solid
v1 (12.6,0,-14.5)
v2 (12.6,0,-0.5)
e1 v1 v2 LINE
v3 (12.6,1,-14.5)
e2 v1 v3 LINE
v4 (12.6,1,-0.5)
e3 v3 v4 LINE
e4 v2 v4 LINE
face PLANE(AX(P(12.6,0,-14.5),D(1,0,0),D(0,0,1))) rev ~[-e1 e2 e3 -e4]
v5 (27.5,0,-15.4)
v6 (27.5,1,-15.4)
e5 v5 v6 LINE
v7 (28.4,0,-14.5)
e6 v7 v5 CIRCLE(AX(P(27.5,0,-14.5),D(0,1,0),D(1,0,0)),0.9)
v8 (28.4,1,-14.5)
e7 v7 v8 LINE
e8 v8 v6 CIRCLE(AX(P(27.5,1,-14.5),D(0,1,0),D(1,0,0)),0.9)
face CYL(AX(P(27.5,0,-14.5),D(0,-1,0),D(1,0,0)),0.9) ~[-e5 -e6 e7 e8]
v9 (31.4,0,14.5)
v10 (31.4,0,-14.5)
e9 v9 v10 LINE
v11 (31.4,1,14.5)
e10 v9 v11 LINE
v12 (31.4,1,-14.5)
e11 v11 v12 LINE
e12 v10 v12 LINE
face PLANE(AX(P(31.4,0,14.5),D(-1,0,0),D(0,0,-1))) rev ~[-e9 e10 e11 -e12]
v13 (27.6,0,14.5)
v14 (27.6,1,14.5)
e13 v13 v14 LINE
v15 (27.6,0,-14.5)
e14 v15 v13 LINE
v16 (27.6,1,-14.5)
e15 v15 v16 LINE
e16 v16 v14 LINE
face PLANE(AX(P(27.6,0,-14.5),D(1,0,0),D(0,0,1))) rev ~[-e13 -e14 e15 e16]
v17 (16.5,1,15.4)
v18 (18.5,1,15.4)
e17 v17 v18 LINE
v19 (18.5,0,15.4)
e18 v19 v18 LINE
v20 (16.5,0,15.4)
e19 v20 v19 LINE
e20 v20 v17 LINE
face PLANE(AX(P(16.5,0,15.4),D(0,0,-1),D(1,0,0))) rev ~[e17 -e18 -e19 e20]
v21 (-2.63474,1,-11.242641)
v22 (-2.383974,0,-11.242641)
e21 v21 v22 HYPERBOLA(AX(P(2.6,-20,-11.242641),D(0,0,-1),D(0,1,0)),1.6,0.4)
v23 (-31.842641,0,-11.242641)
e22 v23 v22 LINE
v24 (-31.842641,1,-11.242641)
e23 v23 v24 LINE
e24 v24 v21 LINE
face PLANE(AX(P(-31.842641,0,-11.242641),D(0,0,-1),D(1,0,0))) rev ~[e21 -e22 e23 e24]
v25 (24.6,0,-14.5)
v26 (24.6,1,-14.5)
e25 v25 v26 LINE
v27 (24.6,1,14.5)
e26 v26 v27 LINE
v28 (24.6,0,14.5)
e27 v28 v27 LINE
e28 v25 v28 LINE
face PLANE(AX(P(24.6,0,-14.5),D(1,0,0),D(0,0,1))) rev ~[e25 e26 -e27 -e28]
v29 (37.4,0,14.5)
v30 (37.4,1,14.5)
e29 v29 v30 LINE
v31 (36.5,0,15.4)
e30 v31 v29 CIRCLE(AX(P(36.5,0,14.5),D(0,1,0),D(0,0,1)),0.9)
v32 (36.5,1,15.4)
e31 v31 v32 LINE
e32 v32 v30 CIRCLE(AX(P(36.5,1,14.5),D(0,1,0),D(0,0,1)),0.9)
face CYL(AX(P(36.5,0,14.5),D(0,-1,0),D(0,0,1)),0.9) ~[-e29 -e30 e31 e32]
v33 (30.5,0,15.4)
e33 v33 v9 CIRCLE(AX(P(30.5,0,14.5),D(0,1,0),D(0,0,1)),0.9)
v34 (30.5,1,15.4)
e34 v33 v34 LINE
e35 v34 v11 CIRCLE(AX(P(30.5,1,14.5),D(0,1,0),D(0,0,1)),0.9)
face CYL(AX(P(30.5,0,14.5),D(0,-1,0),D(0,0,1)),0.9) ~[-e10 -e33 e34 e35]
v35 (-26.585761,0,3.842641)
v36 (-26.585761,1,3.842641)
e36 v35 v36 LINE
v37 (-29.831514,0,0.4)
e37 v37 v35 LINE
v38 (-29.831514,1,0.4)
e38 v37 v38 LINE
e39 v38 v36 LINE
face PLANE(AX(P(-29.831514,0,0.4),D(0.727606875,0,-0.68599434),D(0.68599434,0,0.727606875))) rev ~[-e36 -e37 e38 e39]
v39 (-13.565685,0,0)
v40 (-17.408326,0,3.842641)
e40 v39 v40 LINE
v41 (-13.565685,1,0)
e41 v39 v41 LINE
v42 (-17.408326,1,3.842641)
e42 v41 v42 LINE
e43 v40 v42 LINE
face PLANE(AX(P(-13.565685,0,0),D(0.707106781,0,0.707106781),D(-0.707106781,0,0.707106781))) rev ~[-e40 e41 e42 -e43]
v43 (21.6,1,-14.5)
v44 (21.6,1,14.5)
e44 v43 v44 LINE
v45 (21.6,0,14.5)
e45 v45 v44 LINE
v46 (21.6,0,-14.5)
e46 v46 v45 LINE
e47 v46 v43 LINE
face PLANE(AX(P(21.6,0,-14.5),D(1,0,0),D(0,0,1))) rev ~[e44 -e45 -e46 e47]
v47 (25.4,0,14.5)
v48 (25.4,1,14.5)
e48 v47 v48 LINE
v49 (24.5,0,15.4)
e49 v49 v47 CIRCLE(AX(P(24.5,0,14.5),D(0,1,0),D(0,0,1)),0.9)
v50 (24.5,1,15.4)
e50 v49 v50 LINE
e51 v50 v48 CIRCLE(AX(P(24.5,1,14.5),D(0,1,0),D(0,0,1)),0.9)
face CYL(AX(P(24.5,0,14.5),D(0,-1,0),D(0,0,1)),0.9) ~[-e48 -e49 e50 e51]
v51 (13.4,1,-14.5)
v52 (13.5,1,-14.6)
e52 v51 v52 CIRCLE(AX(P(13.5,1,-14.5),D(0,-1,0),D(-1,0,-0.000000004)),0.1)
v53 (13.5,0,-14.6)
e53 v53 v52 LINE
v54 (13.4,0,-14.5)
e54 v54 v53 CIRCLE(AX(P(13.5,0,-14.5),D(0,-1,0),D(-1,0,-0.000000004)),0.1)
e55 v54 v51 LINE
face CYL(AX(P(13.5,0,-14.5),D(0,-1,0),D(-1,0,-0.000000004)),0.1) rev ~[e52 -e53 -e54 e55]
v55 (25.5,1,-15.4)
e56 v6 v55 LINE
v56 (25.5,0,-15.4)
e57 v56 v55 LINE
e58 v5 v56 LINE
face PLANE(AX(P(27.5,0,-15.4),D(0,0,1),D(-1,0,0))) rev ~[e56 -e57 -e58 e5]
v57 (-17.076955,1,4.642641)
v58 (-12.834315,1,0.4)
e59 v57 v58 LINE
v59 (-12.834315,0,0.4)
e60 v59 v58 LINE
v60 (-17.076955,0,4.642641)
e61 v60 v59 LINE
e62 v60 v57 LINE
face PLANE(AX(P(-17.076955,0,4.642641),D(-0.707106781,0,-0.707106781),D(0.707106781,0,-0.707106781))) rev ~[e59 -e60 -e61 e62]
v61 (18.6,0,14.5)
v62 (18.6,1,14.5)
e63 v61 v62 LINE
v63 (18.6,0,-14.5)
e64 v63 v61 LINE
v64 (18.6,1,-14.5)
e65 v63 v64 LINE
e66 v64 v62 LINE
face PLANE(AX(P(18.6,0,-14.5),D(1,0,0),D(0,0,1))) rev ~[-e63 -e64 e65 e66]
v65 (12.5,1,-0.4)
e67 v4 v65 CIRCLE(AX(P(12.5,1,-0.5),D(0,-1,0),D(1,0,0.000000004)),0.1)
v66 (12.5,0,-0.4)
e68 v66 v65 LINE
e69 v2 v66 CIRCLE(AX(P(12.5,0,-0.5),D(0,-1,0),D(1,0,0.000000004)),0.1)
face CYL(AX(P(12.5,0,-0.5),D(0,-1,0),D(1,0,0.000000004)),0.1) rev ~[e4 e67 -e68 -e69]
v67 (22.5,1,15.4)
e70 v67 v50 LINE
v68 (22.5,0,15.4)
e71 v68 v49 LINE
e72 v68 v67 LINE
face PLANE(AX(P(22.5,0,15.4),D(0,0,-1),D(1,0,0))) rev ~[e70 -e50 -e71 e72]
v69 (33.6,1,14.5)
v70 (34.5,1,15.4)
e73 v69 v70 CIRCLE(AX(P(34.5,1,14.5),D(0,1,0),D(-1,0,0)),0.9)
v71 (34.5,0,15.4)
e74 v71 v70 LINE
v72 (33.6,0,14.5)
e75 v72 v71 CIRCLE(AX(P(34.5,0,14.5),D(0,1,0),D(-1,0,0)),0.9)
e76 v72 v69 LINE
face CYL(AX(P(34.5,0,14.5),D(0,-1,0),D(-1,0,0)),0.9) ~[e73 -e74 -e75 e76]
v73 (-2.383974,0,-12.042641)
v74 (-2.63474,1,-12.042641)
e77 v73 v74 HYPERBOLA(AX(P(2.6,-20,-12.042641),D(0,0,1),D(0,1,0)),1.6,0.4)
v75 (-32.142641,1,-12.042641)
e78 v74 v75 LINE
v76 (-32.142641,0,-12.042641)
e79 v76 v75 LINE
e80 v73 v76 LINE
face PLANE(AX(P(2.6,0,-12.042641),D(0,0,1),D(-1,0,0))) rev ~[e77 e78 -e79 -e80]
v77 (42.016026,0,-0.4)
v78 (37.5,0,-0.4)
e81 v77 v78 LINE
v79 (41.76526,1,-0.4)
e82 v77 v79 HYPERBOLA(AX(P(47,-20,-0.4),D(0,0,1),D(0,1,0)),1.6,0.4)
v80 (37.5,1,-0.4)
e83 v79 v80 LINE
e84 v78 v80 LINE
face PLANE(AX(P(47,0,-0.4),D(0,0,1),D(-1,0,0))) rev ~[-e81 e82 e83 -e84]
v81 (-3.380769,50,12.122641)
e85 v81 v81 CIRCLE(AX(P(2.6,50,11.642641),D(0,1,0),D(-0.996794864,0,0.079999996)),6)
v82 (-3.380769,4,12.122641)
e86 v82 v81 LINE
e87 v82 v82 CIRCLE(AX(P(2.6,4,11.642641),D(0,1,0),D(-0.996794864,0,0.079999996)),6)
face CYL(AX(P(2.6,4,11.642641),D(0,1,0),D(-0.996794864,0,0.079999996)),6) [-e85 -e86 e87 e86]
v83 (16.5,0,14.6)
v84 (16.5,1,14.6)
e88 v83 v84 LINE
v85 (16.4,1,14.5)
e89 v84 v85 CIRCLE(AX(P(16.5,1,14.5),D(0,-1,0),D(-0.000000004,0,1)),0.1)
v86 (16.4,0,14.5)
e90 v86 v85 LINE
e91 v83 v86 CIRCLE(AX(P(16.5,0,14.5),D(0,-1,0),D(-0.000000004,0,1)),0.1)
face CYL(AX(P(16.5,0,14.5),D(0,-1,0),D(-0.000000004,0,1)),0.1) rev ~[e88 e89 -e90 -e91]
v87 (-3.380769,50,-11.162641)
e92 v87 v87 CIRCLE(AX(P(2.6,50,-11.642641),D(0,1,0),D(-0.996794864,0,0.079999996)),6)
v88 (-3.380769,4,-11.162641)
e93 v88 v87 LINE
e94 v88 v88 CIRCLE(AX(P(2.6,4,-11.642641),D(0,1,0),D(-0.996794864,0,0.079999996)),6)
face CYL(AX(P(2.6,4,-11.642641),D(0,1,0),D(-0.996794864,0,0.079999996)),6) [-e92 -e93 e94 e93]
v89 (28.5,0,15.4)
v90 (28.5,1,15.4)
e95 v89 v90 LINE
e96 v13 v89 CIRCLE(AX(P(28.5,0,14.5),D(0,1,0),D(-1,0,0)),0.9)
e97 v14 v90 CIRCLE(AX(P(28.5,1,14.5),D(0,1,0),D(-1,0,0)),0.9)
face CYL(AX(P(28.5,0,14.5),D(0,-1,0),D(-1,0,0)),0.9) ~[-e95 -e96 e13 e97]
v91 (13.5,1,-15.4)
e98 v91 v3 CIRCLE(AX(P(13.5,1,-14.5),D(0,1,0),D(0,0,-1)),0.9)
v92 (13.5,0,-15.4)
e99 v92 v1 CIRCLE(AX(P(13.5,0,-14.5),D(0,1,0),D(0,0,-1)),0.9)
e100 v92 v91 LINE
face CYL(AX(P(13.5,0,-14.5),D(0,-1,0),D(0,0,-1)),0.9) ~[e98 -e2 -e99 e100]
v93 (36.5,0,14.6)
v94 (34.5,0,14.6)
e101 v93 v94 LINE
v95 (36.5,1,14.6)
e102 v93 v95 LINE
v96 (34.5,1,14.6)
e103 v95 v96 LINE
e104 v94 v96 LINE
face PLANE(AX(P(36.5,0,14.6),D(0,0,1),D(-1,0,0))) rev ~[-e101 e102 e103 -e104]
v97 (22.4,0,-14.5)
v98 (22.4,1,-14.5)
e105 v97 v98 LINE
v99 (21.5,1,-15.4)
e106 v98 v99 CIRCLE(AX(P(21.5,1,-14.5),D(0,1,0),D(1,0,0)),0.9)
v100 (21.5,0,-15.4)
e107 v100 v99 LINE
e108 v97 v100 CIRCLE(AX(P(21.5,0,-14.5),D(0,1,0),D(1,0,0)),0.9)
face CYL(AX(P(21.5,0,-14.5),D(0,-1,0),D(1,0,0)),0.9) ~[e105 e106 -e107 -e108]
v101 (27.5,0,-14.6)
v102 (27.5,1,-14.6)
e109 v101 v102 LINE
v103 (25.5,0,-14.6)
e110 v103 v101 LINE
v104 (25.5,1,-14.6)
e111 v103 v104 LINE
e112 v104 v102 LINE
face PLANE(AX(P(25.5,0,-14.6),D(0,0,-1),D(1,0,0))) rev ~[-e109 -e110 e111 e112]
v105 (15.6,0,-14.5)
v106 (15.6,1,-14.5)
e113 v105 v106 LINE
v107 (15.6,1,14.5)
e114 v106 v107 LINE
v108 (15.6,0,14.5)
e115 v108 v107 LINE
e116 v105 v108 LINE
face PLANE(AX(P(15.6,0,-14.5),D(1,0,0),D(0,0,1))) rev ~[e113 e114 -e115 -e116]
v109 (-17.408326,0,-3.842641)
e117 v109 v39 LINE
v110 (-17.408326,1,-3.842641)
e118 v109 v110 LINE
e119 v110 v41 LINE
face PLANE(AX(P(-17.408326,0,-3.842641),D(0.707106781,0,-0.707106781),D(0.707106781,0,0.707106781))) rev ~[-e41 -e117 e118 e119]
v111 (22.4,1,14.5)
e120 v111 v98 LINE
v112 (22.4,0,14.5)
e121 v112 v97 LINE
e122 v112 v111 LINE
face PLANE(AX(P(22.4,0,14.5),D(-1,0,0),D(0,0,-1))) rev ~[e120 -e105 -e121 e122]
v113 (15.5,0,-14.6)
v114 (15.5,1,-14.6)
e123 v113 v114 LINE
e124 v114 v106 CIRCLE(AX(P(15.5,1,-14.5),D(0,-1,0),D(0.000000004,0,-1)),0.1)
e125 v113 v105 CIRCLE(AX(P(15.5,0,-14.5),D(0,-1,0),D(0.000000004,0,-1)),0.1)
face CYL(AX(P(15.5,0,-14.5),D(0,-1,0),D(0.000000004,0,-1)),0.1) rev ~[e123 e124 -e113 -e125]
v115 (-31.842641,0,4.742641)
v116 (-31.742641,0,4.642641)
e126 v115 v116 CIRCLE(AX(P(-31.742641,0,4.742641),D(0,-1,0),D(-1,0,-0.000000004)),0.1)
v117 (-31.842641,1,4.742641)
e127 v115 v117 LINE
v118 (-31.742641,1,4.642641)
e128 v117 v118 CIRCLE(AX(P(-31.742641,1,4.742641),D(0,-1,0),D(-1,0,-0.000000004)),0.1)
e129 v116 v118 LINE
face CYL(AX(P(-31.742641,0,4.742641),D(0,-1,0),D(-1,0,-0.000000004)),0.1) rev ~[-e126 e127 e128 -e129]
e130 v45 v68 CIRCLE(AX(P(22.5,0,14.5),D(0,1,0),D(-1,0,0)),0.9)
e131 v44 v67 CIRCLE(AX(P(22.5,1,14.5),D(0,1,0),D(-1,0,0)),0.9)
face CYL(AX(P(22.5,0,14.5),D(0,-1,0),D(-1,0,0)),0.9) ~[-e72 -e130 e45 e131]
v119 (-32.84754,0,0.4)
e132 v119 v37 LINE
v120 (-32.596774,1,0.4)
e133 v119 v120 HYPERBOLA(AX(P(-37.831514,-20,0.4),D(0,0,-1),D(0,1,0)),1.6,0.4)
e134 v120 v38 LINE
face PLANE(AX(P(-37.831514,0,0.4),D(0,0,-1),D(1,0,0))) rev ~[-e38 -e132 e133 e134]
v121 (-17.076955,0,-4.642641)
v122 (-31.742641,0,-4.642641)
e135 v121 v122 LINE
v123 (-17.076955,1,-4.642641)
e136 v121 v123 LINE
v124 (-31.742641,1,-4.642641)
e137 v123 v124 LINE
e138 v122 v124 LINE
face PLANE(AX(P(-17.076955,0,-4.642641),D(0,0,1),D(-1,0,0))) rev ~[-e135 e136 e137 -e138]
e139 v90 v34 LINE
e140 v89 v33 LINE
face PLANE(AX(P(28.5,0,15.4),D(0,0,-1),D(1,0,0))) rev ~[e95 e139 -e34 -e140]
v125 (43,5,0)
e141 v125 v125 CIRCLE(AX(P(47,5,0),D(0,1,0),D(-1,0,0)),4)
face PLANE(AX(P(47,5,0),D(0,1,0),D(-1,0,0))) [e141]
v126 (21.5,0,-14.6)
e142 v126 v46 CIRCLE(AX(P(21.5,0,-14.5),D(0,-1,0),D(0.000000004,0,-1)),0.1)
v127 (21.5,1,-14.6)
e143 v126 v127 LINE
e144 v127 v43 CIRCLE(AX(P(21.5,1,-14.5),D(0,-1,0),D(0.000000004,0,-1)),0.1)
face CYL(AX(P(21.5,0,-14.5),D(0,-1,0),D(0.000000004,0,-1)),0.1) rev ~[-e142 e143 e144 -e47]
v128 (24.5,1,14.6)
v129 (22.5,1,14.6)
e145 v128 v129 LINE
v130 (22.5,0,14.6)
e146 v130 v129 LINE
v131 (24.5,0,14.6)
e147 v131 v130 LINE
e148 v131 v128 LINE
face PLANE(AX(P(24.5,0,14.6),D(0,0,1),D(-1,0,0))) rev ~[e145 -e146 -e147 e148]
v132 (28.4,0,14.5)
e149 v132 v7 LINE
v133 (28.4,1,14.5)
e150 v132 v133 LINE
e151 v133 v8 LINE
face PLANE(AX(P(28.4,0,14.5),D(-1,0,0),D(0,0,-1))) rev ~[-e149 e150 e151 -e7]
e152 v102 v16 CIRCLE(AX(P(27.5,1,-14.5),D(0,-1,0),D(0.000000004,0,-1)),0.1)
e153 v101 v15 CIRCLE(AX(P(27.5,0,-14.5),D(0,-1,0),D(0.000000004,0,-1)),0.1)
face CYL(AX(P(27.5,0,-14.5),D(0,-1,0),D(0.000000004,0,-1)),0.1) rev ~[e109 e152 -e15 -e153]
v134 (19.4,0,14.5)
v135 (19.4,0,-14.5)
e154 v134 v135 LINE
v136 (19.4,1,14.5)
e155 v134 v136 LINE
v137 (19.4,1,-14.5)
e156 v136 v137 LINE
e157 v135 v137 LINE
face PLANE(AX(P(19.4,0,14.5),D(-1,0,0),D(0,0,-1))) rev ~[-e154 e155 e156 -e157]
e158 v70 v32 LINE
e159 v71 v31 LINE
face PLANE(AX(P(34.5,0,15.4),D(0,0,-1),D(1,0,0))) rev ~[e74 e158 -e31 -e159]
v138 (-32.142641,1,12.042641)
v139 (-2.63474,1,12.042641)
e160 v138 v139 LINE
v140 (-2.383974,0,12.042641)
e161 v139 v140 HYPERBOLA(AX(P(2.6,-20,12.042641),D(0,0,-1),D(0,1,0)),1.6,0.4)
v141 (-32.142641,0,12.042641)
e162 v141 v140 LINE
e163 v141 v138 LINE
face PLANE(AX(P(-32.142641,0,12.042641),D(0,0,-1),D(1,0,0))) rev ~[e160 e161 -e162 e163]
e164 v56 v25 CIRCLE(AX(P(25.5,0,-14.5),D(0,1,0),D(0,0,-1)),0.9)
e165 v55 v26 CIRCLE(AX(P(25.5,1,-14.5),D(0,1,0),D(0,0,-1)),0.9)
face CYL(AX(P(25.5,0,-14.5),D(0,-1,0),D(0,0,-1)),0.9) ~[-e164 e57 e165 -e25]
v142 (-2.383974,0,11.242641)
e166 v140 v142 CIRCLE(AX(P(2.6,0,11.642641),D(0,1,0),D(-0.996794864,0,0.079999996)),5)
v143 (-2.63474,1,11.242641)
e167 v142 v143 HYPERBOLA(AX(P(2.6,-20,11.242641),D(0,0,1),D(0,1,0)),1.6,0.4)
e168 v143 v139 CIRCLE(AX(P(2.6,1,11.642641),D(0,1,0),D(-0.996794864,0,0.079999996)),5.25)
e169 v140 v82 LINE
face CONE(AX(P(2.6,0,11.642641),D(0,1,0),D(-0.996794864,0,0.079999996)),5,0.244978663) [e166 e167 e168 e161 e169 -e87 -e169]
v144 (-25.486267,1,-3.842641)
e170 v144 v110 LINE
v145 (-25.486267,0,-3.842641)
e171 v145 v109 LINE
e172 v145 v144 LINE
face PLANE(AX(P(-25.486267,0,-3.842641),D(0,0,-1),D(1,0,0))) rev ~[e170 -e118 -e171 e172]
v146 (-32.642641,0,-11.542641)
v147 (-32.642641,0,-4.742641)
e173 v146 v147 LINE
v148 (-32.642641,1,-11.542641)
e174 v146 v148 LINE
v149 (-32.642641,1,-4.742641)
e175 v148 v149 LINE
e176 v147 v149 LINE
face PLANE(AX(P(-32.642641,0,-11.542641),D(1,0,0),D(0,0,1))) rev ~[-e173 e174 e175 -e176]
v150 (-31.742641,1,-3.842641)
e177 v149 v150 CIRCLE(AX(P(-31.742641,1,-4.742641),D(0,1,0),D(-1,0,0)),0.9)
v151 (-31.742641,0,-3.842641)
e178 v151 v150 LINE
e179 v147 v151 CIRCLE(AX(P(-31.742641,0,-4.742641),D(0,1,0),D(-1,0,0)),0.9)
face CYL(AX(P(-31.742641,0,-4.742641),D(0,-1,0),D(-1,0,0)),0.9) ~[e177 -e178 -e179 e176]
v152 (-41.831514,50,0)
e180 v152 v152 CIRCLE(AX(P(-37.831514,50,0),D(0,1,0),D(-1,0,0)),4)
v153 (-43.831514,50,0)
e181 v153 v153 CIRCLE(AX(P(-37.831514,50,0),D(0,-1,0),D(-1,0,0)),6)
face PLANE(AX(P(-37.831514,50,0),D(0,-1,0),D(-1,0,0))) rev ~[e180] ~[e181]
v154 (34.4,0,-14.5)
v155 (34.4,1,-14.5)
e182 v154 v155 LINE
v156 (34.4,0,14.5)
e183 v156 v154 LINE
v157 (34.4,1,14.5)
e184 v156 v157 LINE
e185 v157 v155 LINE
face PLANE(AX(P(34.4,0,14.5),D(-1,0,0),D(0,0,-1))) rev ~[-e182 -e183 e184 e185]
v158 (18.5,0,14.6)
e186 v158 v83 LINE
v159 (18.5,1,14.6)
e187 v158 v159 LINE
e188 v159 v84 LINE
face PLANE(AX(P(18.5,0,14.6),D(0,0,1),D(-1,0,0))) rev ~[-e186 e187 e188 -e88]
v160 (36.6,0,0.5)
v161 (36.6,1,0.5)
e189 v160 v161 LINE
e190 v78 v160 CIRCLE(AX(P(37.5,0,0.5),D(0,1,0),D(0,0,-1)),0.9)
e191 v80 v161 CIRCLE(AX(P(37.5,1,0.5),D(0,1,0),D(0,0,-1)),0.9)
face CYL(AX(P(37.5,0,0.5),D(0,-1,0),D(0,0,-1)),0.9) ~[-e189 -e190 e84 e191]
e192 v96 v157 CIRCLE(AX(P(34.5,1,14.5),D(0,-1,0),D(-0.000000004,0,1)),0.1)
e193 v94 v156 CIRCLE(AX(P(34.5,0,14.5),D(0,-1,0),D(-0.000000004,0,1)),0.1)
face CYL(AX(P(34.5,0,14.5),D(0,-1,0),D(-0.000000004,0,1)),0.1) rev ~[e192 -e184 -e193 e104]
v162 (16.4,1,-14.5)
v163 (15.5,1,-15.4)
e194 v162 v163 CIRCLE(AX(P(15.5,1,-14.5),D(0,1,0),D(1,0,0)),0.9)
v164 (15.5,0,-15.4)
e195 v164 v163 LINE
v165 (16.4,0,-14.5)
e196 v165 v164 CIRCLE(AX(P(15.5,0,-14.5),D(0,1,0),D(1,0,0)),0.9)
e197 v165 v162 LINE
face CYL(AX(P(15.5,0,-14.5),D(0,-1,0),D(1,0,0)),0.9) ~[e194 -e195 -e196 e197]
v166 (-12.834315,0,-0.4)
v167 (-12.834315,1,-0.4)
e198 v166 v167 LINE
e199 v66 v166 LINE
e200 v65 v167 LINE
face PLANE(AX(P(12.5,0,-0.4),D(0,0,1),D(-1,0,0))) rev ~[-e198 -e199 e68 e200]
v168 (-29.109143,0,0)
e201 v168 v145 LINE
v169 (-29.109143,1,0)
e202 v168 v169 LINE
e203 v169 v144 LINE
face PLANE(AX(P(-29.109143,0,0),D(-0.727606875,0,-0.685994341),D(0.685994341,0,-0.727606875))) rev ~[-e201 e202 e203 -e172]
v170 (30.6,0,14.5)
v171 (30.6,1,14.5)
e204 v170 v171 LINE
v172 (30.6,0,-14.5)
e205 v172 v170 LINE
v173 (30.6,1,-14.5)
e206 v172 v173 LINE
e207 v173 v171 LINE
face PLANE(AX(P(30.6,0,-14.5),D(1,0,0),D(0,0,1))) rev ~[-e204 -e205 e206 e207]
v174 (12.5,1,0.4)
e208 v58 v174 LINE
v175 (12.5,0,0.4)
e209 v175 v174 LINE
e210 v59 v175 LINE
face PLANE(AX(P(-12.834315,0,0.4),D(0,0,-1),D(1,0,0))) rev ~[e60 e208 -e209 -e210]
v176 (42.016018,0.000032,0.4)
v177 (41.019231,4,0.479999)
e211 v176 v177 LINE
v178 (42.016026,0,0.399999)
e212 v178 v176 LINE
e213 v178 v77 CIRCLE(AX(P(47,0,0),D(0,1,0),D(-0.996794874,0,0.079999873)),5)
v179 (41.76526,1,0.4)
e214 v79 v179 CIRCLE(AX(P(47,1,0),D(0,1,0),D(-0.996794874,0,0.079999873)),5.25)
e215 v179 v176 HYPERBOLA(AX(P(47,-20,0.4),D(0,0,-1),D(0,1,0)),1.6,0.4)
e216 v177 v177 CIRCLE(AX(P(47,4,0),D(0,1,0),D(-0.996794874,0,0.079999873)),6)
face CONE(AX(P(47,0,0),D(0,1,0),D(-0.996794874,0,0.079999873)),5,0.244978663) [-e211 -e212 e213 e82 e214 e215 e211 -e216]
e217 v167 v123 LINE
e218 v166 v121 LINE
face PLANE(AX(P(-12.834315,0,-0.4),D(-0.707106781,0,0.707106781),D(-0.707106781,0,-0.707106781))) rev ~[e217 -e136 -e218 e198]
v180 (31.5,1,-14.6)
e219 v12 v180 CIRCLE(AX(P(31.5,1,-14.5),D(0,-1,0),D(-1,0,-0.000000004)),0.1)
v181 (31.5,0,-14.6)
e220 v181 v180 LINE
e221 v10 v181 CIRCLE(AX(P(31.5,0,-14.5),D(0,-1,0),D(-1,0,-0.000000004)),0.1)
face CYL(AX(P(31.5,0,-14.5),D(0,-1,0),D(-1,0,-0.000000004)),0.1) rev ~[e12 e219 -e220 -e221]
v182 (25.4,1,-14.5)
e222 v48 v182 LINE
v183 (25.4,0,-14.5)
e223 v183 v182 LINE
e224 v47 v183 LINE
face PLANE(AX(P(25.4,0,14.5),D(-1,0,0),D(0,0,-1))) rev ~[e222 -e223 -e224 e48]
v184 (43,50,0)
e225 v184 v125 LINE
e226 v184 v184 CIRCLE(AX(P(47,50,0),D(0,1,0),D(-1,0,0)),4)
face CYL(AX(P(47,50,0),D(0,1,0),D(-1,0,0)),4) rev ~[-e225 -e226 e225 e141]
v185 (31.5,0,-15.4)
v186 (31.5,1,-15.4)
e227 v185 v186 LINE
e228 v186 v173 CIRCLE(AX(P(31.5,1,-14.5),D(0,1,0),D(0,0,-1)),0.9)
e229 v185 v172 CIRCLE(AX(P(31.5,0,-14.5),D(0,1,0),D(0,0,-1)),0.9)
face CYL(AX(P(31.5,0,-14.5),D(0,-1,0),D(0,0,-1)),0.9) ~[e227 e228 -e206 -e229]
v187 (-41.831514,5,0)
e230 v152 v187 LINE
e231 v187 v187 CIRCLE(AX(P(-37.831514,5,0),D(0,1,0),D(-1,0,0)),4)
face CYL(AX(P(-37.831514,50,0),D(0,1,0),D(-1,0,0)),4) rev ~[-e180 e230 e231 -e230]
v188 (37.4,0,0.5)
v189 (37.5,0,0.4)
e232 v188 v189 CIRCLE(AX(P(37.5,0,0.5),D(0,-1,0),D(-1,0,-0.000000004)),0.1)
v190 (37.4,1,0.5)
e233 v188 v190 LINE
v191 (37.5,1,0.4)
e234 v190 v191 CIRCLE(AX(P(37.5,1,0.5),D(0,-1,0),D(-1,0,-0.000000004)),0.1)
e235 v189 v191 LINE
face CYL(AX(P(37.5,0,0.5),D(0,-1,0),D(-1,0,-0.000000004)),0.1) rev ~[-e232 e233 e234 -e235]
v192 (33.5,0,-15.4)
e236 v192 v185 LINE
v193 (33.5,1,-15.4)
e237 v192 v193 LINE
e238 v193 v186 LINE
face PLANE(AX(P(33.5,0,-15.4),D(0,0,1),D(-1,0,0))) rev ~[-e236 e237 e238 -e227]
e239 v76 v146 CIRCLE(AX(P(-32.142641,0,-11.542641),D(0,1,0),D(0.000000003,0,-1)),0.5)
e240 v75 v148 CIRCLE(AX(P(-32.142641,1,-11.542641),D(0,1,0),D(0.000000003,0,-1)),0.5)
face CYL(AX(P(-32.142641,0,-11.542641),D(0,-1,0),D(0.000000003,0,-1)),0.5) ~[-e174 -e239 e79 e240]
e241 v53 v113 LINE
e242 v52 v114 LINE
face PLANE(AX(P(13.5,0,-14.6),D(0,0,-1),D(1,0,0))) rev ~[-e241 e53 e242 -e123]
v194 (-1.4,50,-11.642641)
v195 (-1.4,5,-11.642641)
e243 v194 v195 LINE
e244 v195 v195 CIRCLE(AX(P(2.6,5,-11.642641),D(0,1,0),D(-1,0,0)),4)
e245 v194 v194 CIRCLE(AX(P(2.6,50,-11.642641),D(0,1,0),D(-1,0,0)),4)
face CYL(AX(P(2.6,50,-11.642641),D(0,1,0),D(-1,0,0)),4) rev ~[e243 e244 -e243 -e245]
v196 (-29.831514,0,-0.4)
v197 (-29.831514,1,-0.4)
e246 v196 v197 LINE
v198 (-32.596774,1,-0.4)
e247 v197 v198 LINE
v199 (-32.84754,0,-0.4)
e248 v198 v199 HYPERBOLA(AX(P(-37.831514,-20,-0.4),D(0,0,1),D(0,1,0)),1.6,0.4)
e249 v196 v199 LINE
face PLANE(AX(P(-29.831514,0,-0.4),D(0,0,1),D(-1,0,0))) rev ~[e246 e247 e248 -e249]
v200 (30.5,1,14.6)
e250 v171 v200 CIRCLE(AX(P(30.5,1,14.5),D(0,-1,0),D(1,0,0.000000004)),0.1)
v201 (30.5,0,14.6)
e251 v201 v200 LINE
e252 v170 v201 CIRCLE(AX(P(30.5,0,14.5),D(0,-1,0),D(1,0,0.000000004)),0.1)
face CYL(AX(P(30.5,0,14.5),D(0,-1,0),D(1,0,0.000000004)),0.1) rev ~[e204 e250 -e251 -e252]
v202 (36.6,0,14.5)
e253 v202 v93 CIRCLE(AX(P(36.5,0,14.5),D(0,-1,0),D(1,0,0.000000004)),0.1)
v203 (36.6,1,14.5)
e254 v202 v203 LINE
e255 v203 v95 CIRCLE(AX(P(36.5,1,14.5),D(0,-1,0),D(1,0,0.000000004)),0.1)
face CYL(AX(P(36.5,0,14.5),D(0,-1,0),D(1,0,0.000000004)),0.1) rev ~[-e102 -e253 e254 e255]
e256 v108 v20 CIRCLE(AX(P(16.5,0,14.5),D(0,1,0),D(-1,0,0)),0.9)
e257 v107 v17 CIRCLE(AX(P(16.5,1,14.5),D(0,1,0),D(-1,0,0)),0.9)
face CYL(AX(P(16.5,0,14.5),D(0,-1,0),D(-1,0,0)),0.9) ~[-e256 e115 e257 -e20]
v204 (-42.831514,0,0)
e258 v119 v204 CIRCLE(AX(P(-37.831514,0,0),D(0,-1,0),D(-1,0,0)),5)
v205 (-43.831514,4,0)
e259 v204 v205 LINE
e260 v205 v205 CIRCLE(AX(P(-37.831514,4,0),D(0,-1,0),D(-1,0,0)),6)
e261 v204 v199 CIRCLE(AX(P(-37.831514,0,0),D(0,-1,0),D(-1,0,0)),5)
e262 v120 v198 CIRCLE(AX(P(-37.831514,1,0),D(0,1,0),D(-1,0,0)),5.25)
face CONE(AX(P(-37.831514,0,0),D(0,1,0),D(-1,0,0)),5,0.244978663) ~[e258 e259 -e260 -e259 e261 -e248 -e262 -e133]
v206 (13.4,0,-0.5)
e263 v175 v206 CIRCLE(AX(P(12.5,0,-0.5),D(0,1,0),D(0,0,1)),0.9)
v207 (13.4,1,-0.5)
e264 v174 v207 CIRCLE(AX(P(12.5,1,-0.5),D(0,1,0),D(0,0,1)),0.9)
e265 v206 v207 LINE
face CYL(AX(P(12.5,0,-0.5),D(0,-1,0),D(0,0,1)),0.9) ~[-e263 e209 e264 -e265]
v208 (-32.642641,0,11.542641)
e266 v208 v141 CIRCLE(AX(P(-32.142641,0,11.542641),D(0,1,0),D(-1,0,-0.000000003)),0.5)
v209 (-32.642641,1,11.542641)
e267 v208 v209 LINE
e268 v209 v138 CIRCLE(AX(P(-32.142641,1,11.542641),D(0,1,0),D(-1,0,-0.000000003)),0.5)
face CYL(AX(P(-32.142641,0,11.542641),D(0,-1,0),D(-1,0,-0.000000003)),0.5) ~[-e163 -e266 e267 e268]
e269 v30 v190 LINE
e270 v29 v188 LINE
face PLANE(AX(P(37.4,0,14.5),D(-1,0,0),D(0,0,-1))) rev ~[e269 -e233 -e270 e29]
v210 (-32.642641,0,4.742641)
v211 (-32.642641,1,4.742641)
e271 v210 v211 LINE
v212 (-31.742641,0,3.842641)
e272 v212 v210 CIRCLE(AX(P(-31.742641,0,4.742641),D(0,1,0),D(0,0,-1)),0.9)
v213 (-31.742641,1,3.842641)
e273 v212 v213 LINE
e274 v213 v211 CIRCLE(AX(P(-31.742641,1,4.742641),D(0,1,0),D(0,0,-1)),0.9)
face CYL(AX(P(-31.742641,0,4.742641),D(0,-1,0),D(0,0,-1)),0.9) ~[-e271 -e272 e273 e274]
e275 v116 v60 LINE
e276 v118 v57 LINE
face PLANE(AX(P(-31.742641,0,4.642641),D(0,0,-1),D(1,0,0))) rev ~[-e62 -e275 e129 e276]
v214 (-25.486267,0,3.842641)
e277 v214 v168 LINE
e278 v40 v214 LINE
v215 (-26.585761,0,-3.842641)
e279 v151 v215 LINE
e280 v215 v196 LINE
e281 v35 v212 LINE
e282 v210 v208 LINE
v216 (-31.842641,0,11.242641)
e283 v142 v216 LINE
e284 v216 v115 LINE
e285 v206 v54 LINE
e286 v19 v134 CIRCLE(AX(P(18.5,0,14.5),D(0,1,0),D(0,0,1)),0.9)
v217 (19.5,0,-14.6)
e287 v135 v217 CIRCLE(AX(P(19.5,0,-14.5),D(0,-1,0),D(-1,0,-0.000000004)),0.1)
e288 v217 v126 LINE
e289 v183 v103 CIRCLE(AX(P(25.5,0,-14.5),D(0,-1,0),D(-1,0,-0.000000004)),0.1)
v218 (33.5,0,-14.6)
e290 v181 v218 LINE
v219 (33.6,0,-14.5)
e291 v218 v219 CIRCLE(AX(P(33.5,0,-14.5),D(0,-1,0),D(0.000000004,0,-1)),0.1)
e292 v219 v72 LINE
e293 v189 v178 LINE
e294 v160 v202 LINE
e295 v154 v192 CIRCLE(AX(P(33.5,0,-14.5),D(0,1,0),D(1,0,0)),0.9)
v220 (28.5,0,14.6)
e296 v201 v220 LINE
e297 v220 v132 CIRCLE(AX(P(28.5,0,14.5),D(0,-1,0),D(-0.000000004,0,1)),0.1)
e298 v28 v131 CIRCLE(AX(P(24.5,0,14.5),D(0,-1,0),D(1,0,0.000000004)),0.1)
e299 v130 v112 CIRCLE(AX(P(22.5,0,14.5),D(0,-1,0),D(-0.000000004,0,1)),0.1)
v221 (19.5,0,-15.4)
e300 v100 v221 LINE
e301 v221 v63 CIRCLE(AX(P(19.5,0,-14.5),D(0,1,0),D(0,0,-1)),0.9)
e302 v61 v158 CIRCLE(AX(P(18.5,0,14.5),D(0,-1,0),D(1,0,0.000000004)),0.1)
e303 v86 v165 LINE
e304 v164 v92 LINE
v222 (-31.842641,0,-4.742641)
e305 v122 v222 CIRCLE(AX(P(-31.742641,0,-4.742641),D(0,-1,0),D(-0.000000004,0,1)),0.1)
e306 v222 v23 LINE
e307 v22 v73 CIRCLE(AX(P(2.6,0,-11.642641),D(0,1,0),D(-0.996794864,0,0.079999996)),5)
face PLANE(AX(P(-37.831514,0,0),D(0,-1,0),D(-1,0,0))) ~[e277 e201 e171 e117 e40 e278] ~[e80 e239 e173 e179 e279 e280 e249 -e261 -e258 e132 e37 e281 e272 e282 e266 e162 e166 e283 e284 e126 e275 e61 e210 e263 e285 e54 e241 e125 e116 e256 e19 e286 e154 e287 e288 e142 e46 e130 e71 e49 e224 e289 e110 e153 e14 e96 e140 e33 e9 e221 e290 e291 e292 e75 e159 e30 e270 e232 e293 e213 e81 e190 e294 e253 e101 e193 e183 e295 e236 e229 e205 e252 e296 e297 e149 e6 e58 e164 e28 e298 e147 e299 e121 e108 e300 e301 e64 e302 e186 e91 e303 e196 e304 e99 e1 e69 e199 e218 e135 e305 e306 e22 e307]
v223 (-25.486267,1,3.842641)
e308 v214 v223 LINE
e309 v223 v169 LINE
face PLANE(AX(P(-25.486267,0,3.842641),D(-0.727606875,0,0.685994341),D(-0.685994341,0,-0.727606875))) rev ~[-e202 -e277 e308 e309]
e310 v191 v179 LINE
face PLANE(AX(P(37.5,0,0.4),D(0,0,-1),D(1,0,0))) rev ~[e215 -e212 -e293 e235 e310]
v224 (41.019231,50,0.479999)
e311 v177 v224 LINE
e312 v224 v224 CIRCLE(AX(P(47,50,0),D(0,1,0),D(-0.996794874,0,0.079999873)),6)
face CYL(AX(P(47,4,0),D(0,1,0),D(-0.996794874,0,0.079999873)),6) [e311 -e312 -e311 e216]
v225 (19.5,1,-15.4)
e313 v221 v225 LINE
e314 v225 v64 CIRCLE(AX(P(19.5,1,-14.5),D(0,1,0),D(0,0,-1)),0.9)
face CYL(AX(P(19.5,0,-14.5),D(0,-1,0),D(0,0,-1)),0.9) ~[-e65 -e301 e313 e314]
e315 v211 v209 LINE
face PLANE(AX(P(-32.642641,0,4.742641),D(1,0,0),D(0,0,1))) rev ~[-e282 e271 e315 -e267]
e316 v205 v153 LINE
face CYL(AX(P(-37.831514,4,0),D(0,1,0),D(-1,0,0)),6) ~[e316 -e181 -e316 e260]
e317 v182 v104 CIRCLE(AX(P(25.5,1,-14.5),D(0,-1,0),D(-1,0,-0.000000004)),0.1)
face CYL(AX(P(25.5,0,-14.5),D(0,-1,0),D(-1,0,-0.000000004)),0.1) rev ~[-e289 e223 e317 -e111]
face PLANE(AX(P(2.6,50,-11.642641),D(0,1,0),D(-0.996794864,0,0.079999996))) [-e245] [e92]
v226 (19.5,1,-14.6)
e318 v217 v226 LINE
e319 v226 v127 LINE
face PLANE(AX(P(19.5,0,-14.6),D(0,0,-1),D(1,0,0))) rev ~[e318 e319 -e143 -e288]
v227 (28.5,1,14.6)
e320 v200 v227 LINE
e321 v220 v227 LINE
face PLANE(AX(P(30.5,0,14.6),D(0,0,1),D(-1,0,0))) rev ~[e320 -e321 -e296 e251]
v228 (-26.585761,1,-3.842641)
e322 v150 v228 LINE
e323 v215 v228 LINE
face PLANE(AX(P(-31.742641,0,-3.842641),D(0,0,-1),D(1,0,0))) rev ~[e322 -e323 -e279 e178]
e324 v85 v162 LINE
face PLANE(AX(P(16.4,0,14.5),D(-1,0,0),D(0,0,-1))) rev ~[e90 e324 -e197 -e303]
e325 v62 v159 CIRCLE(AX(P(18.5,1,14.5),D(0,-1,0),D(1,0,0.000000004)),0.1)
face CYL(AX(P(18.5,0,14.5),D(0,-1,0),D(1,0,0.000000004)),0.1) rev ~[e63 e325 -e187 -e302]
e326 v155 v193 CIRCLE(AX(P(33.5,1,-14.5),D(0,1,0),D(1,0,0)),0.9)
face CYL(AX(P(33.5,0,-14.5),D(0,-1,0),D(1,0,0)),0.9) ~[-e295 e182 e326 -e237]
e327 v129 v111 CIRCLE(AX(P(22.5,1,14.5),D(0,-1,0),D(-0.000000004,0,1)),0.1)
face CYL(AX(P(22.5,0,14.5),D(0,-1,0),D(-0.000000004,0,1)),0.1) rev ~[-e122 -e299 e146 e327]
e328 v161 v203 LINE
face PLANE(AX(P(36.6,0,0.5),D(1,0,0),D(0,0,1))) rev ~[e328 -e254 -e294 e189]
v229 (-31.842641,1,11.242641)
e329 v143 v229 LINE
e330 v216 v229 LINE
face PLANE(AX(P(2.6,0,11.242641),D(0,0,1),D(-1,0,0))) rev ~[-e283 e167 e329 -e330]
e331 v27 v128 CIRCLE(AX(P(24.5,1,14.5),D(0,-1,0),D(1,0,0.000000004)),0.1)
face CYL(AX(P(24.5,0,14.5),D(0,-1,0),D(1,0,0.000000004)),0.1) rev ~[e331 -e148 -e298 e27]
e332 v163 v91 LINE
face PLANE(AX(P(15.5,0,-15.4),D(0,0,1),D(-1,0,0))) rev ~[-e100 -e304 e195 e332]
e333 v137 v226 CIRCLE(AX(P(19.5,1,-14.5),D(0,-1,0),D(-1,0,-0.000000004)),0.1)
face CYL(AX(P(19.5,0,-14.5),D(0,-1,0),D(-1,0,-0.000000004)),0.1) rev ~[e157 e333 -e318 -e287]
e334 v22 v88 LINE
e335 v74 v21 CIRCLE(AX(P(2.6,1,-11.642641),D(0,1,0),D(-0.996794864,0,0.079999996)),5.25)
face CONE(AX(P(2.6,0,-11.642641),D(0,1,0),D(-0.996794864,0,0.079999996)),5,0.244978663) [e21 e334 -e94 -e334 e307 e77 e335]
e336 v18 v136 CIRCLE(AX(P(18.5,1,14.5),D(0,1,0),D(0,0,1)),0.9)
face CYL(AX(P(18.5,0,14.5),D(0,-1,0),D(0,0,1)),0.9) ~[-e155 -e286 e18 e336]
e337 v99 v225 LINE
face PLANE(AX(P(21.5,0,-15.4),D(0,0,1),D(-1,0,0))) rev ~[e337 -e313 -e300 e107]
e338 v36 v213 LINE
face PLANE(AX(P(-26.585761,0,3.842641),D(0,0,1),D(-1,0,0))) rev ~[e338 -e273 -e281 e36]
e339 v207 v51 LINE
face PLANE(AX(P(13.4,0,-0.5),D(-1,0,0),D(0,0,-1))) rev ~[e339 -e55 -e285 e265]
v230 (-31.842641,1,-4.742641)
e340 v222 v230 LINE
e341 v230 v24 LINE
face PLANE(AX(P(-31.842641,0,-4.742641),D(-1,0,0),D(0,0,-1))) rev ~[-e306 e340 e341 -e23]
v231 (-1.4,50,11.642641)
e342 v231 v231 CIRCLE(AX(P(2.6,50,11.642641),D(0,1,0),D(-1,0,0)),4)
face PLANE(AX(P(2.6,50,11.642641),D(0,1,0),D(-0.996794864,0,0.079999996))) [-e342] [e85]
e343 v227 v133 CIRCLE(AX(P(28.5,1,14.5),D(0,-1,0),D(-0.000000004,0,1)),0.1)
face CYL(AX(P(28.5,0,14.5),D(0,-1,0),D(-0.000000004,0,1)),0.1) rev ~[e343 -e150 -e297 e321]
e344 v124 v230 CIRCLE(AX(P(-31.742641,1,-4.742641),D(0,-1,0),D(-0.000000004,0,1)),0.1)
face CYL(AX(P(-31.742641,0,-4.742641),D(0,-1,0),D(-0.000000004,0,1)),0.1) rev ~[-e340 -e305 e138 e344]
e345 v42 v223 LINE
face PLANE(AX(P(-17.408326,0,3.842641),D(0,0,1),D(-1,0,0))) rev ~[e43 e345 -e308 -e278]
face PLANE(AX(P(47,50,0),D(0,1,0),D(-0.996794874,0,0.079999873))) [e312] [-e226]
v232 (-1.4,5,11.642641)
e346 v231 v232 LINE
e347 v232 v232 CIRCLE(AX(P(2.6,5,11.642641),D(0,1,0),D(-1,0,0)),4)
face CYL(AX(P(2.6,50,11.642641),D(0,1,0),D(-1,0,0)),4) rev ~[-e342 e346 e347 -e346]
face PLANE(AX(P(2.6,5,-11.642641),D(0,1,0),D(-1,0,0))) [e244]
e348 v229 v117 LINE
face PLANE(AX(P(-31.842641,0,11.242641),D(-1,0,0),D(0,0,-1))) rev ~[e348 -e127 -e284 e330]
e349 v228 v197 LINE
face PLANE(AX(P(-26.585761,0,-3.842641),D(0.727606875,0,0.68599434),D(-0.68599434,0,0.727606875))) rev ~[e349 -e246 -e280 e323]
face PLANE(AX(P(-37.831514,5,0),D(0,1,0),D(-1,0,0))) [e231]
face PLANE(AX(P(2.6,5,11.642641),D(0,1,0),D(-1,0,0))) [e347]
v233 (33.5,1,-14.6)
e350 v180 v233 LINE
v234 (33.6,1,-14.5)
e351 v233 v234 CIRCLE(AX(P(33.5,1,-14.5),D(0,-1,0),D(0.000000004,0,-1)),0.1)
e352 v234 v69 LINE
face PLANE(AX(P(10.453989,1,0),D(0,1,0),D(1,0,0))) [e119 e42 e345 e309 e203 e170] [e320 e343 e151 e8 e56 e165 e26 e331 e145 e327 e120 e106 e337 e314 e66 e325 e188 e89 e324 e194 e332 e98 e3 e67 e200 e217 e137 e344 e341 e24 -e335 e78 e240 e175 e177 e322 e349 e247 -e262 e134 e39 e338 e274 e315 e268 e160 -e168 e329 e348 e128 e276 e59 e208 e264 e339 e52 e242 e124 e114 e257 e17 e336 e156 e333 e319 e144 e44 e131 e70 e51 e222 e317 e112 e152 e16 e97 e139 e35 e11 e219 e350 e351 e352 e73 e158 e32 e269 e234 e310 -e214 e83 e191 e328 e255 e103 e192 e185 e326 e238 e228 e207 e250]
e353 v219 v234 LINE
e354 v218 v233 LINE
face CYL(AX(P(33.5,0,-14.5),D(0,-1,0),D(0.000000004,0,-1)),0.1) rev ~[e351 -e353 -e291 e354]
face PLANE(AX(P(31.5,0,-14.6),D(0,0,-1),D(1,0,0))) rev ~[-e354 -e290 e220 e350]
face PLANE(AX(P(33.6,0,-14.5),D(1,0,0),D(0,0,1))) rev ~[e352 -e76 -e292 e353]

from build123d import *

# Parameters (mm, degrees)
SKELTON_EXTRU_DEPTH = 1
SKETCH8_R           = 4
CUT_EXTRUDE1_DEPTH  = 45


with BuildPart() as part:
    # Sketch2 → skelton_extru (new body)
    with BuildSketch(Plane(origin=(0, 0, 0), x_dir=(1, 0, 0), z_dir=(0, 1, 0))):
        with BuildLine():
            Line((-31.842640687, 11.242640687), (2.6, 11.242640687))
            ThreePointArc((2.6, 11.242640687), (3, 11.642640687), (2.6, 12.042640687))
            Line((2.6, 12.042640687), (-31.842640687, 12.042640687))
            Line((-31.842640687, 12.042640687), (-32.142640687, 12.042640687))
            ThreePointArc((-32.142640687, 12.042640687), (-32.496194078, 11.896194078), (-32.642640687, 11.542640687))
            Line((-32.642640687, 11.542640687), (-32.642640687, 4.742640687))
            ThreePointArc((-32.642640687, 4.742640687), (-32.37903679, 4.106244584), (-31.742640687, 3.842640687))
            Line((-31.742640687, 3.842640687), (-26.585761453, 3.842640687))
            Line((-26.585761453, 3.842640687), (-29.831514219, 0.4))
            Line((-29.831514219, 0.4), (-37.831514219, 0.4))
            ThreePointArc((-37.831514219, 0.4), (-38.231514219, 0), (-37.831514219, -0.4))
            Line((-37.831514219, -0.4), (-29.831514219, -0.4))
            Line((-29.831514219, -0.4), (-26.585761453, -3.842640687))
            Line((-26.585761453, -3.842640687), (-31.742640687, -3.842640687))
            ThreePointArc((-31.742640687, -3.842640687), (-32.37903679, -4.106244584), (-32.642640687, -4.742640687))
            Line((-32.642640687, -4.742640687), (-32.642640687, -11.542640687))
            ThreePointArc((-32.642640687, -11.542640687), (-32.496194078, -11.896194078), (-32.142640687, -12.042640687))
            Line((-32.142640687, -12.042640687), (-31.842640687, -12.042640687))
            Line((-31.842640687, -12.042640687), (2.6, -12.042640687))
            ThreePointArc((2.6, -12.042640687), (3, -11.642640687), (2.6, -11.242640687))
            Line((2.6, -11.242640687), (-31.842640687, -11.242640687))
            Line((-31.842640687, -11.242640687), (-31.842640687, -4.742640687))
            ThreePointArc((-31.842640687, -4.742640687), (-31.813351365, -4.671930009), (-31.742640687, -4.642640687))
            Line((-31.742640687, -4.642640687), (-17.076955262, -4.642640687))
            Line((-17.076955262, -4.642640687), (-12.834314575, -0.4))
            Line((-12.834314575, -0.4), (6.7, -0.4))
            Line((6.7, -0.4), (12.5, -0.4))
            ThreePointArc((12.5, -0.4), (13.136396103, -0.136396103), (13.4, 0.5))
            Line((13.4, 0.5), (13.4, 14.5))
            ThreePointArc((13.4, 14.5), (13.429289322, 14.570710678), (13.5, 14.6))
            Line((13.5, 14.6), (15.5, 14.6))
            ThreePointArc((15.5, 14.6), (15.570710678, 14.570710678), (15.6, 14.5))
            Line((15.6, 14.5), (15.6, 0))
            Line((15.6, 0), (15.6, -14.5))
            ThreePointArc((15.6, -14.5), (15.863603897, -15.136396103), (16.5, -15.4))
            Line((16.5, -15.4), (18.5, -15.4))
            ThreePointArc((18.5, -15.4), (19.136396103, -15.136396103), (19.4, -14.5))
            Line((19.4, -14.5), (19.4, 14.5))
            ThreePointArc((19.4, 14.5), (19.429289322, 14.570710678), (19.5, 14.6))
            Line((19.5, 14.6), (21.5, 14.6))
            ThreePointArc((21.5, 14.6), (21.570710678, 14.570710678), (21.6, 14.5))
            Line((21.6, 14.5), (21.6, -14.5))
            ThreePointArc((21.6, -14.5), (21.863603897, -15.136396103), (22.5, -15.4))
            Line((22.5, -15.4), (24.5, -15.4))
            ThreePointArc((24.5, -15.4), (25.136396103, -15.136396103), (25.4, -14.5))
            Line((25.4, -14.5), (25.4, 14.5))
            ThreePointArc((25.4, 14.5), (25.429289322, 14.570710678), (25.5, 14.6))
            Line((25.5, 14.6), (27.5, 14.6))
            ThreePointArc((27.5, 14.6), (27.570710678, 14.570710678), (27.6, 14.5))
            Line((27.6, 14.5), (27.6, -14.5))
            ThreePointArc((27.6, -14.5), (27.863603897, -15.136396103), (28.5, -15.4))
            Line((28.5, -15.4), (30.5, -15.4))
            ThreePointArc((30.5, -15.4), (31.136396103, -15.136396103), (31.4, -14.5))
            Line((31.4, -14.5), (31.4, 14.5))
            ThreePointArc((31.4, 14.5), (31.429289322, 14.570710678), (31.5, 14.6))
            Line((31.5, 14.6), (33.5, 14.6))
            ThreePointArc((33.5, 14.6), (33.570710678, 14.570710678), (33.6, 14.5))
            Line((33.6, 14.5), (33.6, -14.5))
            ThreePointArc((33.6, -14.5), (33.863603897, -15.136396103), (34.5, -15.4))
            Line((34.5, -15.4), (36.5, -15.4))
            ThreePointArc((36.5, -15.4), (37.136396103, -15.136396103), (37.4, -14.5))
            Line((37.4, -14.5), (37.4, -0.5))
            ThreePointArc((37.4, -0.5), (37.429289322, -0.429289322), (37.5, -0.4))
            Line((37.5, -0.4), (47, -0.4))
            ThreePointArc((47, -0.4), (47.4, 0), (47, 0.4))
            Line((47, 0.4), (37.5, 0.4))
            ThreePointArc((37.5, 0.4), (36.863603897, 0.136396103), (36.6, -0.5))
            Line((36.6, -0.5), (36.6, -14.5))
            ThreePointArc((36.6, -14.5), (36.570710678, -14.570710678), (36.5, -14.6))
            Line((36.5, -14.6), (34.5, -14.6))
            ThreePointArc((34.5, -14.6), (34.429289322, -14.570710678), (34.4, -14.5))
            Line((34.4, -14.5), (34.4, 14.5))
            ThreePointArc((34.4, 14.5), (34.136396103, 15.136396103), (33.5, 15.4))
            Line((33.5, 15.4), (31.5, 15.4))
            ThreePointArc((31.5, 15.4), (30.863603897, 15.136396103), (30.6, 14.5))
            Line((30.6, 14.5), (30.6, -14.5))
            ThreePointArc((30.6, -14.5), (30.570710678, -14.570710678), (30.5, -14.6))
            Line((30.5, -14.6), (28.5, -14.6))
            ThreePointArc((28.5, -14.6), (28.429289322, -14.570710678), (28.4, -14.5))
            Line((28.4, -14.5), (28.4, 14.5))
            ThreePointArc((28.4, 14.5), (28.136396103, 15.136396103), (27.5, 15.4))
            Line((27.5, 15.4), (25.5, 15.4))
            ThreePointArc((25.5, 15.4), (24.863603897, 15.136396103), (24.6, 14.5))
            Line((24.6, 14.5), (24.6, -14.5))
            ThreePointArc((24.6, -14.5), (24.570710678, -14.570710678), (24.5, -14.6))
            Line((24.5, -14.6), (22.5, -14.6))
            ThreePointArc((22.5, -14.6), (22.429289322, -14.570710678), (22.4, -14.5))
            Line((22.4, -14.5), (22.4, 14.5))
            ThreePointArc((22.4, 14.5), (22.136396103, 15.136396103), (21.5, 15.4))
            Line((21.5, 15.4), (19.5, 15.4))
            ThreePointArc((19.5, 15.4), (18.863603897, 15.136396103), (18.6, 14.5))
            Line((18.6, 14.5), (18.6, -14.5))
            ThreePointArc((18.6, -14.5), (18.570710678, -14.570710678), (18.5, -14.6))
            Line((18.5, -14.6), (16.5, -14.6))
            ThreePointArc((16.5, -14.6), (16.429289322, -14.570710678), (16.4, -14.5))
            Line((16.4, -14.5), (16.4, 0))
            Line((16.4, 0), (16.4, 14.5))
            ThreePointArc((16.4, 14.5), (16.136396103, 15.136396103), (15.5, 15.4))
            Line((15.5, 15.4), (13.5, 15.4))
            ThreePointArc((13.5, 15.4), (12.863603897, 15.136396103), (12.6, 14.5))
            Line((12.6, 14.5), (12.6, 0.5))
            ThreePointArc((12.6, 0.5), (12.570710678, 0.429289322), (12.5, 0.4))
            Line((12.5, 0.4), (6.7, 0.4))
            Line((6.7, 0.4), (-12.834314575, 0.4))
            Line((-12.834314575, 0.4), (-17.076955262, 4.642640687))
            Line((-17.076955262, 4.642640687), (-31.742640687, 4.642640687))
            ThreePointArc((-31.742640687, 4.642640687), (-31.813351365, 4.671930009), (-31.842640687, 4.742640687))
            Line((-31.842640687, 4.742640687), (-31.842640687, 11.242640687))
        make_face()
        Polygon((-13.565685425, 0), (-17.408326112, -3.842640687), (-25.486266619, -3.842640687), (-29.109143003, 0), (-25.486266619, 3.842640687), (-17.408326112, 3.842640687), align=None, mode=Mode.SUBTRACT)
    extrude(amount=SKELTON_EXTRU_DEPTH)

    # Sketch3 → Revolve1 (revolve)
    with BuildSketch(Plane.XY.offset(-11.642640687), mode=Mode.PRIVATE) as revolve1_sk:
        Polygon((2.6, 0), (7.6, 0), (8.6, 4), (8.6, 50), (2.6, 50), align=None)
    revolve(revolve1_sk.sketch.rotate(Axis((2.6, 0, -11.642640687), (0, 1, 0)), 184.588565502), axis=Axis((2.6, 0, -11.642640687), (0, 1, 0)))

    # Sketch4 → Revolve2 (revolve)
    with BuildSketch(Plane(origin=(0, 0, 0), x_dir=(-1, 0, 0), z_dir=(0, 0, -1)), mode=Mode.PRIVATE) as revolve2_sk:
        Polygon((-47, 0), (-52, 0), (-53, 4), (-53, 50), (-47, 50), align=None)
    revolve(revolve2_sk.sketch.rotate(Axis((47, 0, 0), (0, 1, 0)), 184.588558424), axis=Axis((47, 0, 0), (0, 1, 0)))

    # Sketch5 → Revolve3 (revolve)
    with BuildSketch(Plane(origin=(0, 0, 0), x_dir=(-1, 0, 0), z_dir=(0, 0, -1))):
        Polygon((37.831514219, 50), (37.831514219, 0), (42.831514219, 0), (43.831514219, 4), (43.831514219, 50), align=None)
    revolve(axis=Axis((-37.831514219, 50, 0), (0, -1, 0)))

    # Sketch6 → Revolve4 (revolve)
    with BuildSketch(Plane.XY.offset(11.642640687), mode=Mode.PRIVATE) as revolve4_sk:
        Polygon((2.6, 0), (7.6, 0), (8.6, 4), (8.6, 50), (2.6, 50), align=None)
    revolve(revolve4_sk.sketch.rotate(Axis((2.6, 0, 11.642640687), (0, 1, 0)), 184.588565502), axis=Axis((2.6, 0, 11.642640687), (0, 1, 0)))

    # Sketch8 → Cut-Extrude1 (cut)
    with BuildSketch(Plane(origin=(0, 50, 0), x_dir=(1, 0, 0), z_dir=(0, 1, 0))):
        with Locations(Location((-37.831514219, 0, 0), (0, 0, 180))):
            Circle(SKETCH8_R)
        with Locations(Location((2.6, 11.642640687, 0), (0, 0, 180))):
            Circle(SKETCH8_R)
        with Locations(Location((2.6, -11.642640687, 0), (0, 0, 180))):
            Circle(SKETCH8_R)
        with Locations(Location((47, 0, 0), (0, 0, 180))):
            Circle(SKETCH8_R)
    extrude(amount=-CUT_EXTRUDE1_DEPTH, mode=Mode.SUBTRACT)


solid = part.part
